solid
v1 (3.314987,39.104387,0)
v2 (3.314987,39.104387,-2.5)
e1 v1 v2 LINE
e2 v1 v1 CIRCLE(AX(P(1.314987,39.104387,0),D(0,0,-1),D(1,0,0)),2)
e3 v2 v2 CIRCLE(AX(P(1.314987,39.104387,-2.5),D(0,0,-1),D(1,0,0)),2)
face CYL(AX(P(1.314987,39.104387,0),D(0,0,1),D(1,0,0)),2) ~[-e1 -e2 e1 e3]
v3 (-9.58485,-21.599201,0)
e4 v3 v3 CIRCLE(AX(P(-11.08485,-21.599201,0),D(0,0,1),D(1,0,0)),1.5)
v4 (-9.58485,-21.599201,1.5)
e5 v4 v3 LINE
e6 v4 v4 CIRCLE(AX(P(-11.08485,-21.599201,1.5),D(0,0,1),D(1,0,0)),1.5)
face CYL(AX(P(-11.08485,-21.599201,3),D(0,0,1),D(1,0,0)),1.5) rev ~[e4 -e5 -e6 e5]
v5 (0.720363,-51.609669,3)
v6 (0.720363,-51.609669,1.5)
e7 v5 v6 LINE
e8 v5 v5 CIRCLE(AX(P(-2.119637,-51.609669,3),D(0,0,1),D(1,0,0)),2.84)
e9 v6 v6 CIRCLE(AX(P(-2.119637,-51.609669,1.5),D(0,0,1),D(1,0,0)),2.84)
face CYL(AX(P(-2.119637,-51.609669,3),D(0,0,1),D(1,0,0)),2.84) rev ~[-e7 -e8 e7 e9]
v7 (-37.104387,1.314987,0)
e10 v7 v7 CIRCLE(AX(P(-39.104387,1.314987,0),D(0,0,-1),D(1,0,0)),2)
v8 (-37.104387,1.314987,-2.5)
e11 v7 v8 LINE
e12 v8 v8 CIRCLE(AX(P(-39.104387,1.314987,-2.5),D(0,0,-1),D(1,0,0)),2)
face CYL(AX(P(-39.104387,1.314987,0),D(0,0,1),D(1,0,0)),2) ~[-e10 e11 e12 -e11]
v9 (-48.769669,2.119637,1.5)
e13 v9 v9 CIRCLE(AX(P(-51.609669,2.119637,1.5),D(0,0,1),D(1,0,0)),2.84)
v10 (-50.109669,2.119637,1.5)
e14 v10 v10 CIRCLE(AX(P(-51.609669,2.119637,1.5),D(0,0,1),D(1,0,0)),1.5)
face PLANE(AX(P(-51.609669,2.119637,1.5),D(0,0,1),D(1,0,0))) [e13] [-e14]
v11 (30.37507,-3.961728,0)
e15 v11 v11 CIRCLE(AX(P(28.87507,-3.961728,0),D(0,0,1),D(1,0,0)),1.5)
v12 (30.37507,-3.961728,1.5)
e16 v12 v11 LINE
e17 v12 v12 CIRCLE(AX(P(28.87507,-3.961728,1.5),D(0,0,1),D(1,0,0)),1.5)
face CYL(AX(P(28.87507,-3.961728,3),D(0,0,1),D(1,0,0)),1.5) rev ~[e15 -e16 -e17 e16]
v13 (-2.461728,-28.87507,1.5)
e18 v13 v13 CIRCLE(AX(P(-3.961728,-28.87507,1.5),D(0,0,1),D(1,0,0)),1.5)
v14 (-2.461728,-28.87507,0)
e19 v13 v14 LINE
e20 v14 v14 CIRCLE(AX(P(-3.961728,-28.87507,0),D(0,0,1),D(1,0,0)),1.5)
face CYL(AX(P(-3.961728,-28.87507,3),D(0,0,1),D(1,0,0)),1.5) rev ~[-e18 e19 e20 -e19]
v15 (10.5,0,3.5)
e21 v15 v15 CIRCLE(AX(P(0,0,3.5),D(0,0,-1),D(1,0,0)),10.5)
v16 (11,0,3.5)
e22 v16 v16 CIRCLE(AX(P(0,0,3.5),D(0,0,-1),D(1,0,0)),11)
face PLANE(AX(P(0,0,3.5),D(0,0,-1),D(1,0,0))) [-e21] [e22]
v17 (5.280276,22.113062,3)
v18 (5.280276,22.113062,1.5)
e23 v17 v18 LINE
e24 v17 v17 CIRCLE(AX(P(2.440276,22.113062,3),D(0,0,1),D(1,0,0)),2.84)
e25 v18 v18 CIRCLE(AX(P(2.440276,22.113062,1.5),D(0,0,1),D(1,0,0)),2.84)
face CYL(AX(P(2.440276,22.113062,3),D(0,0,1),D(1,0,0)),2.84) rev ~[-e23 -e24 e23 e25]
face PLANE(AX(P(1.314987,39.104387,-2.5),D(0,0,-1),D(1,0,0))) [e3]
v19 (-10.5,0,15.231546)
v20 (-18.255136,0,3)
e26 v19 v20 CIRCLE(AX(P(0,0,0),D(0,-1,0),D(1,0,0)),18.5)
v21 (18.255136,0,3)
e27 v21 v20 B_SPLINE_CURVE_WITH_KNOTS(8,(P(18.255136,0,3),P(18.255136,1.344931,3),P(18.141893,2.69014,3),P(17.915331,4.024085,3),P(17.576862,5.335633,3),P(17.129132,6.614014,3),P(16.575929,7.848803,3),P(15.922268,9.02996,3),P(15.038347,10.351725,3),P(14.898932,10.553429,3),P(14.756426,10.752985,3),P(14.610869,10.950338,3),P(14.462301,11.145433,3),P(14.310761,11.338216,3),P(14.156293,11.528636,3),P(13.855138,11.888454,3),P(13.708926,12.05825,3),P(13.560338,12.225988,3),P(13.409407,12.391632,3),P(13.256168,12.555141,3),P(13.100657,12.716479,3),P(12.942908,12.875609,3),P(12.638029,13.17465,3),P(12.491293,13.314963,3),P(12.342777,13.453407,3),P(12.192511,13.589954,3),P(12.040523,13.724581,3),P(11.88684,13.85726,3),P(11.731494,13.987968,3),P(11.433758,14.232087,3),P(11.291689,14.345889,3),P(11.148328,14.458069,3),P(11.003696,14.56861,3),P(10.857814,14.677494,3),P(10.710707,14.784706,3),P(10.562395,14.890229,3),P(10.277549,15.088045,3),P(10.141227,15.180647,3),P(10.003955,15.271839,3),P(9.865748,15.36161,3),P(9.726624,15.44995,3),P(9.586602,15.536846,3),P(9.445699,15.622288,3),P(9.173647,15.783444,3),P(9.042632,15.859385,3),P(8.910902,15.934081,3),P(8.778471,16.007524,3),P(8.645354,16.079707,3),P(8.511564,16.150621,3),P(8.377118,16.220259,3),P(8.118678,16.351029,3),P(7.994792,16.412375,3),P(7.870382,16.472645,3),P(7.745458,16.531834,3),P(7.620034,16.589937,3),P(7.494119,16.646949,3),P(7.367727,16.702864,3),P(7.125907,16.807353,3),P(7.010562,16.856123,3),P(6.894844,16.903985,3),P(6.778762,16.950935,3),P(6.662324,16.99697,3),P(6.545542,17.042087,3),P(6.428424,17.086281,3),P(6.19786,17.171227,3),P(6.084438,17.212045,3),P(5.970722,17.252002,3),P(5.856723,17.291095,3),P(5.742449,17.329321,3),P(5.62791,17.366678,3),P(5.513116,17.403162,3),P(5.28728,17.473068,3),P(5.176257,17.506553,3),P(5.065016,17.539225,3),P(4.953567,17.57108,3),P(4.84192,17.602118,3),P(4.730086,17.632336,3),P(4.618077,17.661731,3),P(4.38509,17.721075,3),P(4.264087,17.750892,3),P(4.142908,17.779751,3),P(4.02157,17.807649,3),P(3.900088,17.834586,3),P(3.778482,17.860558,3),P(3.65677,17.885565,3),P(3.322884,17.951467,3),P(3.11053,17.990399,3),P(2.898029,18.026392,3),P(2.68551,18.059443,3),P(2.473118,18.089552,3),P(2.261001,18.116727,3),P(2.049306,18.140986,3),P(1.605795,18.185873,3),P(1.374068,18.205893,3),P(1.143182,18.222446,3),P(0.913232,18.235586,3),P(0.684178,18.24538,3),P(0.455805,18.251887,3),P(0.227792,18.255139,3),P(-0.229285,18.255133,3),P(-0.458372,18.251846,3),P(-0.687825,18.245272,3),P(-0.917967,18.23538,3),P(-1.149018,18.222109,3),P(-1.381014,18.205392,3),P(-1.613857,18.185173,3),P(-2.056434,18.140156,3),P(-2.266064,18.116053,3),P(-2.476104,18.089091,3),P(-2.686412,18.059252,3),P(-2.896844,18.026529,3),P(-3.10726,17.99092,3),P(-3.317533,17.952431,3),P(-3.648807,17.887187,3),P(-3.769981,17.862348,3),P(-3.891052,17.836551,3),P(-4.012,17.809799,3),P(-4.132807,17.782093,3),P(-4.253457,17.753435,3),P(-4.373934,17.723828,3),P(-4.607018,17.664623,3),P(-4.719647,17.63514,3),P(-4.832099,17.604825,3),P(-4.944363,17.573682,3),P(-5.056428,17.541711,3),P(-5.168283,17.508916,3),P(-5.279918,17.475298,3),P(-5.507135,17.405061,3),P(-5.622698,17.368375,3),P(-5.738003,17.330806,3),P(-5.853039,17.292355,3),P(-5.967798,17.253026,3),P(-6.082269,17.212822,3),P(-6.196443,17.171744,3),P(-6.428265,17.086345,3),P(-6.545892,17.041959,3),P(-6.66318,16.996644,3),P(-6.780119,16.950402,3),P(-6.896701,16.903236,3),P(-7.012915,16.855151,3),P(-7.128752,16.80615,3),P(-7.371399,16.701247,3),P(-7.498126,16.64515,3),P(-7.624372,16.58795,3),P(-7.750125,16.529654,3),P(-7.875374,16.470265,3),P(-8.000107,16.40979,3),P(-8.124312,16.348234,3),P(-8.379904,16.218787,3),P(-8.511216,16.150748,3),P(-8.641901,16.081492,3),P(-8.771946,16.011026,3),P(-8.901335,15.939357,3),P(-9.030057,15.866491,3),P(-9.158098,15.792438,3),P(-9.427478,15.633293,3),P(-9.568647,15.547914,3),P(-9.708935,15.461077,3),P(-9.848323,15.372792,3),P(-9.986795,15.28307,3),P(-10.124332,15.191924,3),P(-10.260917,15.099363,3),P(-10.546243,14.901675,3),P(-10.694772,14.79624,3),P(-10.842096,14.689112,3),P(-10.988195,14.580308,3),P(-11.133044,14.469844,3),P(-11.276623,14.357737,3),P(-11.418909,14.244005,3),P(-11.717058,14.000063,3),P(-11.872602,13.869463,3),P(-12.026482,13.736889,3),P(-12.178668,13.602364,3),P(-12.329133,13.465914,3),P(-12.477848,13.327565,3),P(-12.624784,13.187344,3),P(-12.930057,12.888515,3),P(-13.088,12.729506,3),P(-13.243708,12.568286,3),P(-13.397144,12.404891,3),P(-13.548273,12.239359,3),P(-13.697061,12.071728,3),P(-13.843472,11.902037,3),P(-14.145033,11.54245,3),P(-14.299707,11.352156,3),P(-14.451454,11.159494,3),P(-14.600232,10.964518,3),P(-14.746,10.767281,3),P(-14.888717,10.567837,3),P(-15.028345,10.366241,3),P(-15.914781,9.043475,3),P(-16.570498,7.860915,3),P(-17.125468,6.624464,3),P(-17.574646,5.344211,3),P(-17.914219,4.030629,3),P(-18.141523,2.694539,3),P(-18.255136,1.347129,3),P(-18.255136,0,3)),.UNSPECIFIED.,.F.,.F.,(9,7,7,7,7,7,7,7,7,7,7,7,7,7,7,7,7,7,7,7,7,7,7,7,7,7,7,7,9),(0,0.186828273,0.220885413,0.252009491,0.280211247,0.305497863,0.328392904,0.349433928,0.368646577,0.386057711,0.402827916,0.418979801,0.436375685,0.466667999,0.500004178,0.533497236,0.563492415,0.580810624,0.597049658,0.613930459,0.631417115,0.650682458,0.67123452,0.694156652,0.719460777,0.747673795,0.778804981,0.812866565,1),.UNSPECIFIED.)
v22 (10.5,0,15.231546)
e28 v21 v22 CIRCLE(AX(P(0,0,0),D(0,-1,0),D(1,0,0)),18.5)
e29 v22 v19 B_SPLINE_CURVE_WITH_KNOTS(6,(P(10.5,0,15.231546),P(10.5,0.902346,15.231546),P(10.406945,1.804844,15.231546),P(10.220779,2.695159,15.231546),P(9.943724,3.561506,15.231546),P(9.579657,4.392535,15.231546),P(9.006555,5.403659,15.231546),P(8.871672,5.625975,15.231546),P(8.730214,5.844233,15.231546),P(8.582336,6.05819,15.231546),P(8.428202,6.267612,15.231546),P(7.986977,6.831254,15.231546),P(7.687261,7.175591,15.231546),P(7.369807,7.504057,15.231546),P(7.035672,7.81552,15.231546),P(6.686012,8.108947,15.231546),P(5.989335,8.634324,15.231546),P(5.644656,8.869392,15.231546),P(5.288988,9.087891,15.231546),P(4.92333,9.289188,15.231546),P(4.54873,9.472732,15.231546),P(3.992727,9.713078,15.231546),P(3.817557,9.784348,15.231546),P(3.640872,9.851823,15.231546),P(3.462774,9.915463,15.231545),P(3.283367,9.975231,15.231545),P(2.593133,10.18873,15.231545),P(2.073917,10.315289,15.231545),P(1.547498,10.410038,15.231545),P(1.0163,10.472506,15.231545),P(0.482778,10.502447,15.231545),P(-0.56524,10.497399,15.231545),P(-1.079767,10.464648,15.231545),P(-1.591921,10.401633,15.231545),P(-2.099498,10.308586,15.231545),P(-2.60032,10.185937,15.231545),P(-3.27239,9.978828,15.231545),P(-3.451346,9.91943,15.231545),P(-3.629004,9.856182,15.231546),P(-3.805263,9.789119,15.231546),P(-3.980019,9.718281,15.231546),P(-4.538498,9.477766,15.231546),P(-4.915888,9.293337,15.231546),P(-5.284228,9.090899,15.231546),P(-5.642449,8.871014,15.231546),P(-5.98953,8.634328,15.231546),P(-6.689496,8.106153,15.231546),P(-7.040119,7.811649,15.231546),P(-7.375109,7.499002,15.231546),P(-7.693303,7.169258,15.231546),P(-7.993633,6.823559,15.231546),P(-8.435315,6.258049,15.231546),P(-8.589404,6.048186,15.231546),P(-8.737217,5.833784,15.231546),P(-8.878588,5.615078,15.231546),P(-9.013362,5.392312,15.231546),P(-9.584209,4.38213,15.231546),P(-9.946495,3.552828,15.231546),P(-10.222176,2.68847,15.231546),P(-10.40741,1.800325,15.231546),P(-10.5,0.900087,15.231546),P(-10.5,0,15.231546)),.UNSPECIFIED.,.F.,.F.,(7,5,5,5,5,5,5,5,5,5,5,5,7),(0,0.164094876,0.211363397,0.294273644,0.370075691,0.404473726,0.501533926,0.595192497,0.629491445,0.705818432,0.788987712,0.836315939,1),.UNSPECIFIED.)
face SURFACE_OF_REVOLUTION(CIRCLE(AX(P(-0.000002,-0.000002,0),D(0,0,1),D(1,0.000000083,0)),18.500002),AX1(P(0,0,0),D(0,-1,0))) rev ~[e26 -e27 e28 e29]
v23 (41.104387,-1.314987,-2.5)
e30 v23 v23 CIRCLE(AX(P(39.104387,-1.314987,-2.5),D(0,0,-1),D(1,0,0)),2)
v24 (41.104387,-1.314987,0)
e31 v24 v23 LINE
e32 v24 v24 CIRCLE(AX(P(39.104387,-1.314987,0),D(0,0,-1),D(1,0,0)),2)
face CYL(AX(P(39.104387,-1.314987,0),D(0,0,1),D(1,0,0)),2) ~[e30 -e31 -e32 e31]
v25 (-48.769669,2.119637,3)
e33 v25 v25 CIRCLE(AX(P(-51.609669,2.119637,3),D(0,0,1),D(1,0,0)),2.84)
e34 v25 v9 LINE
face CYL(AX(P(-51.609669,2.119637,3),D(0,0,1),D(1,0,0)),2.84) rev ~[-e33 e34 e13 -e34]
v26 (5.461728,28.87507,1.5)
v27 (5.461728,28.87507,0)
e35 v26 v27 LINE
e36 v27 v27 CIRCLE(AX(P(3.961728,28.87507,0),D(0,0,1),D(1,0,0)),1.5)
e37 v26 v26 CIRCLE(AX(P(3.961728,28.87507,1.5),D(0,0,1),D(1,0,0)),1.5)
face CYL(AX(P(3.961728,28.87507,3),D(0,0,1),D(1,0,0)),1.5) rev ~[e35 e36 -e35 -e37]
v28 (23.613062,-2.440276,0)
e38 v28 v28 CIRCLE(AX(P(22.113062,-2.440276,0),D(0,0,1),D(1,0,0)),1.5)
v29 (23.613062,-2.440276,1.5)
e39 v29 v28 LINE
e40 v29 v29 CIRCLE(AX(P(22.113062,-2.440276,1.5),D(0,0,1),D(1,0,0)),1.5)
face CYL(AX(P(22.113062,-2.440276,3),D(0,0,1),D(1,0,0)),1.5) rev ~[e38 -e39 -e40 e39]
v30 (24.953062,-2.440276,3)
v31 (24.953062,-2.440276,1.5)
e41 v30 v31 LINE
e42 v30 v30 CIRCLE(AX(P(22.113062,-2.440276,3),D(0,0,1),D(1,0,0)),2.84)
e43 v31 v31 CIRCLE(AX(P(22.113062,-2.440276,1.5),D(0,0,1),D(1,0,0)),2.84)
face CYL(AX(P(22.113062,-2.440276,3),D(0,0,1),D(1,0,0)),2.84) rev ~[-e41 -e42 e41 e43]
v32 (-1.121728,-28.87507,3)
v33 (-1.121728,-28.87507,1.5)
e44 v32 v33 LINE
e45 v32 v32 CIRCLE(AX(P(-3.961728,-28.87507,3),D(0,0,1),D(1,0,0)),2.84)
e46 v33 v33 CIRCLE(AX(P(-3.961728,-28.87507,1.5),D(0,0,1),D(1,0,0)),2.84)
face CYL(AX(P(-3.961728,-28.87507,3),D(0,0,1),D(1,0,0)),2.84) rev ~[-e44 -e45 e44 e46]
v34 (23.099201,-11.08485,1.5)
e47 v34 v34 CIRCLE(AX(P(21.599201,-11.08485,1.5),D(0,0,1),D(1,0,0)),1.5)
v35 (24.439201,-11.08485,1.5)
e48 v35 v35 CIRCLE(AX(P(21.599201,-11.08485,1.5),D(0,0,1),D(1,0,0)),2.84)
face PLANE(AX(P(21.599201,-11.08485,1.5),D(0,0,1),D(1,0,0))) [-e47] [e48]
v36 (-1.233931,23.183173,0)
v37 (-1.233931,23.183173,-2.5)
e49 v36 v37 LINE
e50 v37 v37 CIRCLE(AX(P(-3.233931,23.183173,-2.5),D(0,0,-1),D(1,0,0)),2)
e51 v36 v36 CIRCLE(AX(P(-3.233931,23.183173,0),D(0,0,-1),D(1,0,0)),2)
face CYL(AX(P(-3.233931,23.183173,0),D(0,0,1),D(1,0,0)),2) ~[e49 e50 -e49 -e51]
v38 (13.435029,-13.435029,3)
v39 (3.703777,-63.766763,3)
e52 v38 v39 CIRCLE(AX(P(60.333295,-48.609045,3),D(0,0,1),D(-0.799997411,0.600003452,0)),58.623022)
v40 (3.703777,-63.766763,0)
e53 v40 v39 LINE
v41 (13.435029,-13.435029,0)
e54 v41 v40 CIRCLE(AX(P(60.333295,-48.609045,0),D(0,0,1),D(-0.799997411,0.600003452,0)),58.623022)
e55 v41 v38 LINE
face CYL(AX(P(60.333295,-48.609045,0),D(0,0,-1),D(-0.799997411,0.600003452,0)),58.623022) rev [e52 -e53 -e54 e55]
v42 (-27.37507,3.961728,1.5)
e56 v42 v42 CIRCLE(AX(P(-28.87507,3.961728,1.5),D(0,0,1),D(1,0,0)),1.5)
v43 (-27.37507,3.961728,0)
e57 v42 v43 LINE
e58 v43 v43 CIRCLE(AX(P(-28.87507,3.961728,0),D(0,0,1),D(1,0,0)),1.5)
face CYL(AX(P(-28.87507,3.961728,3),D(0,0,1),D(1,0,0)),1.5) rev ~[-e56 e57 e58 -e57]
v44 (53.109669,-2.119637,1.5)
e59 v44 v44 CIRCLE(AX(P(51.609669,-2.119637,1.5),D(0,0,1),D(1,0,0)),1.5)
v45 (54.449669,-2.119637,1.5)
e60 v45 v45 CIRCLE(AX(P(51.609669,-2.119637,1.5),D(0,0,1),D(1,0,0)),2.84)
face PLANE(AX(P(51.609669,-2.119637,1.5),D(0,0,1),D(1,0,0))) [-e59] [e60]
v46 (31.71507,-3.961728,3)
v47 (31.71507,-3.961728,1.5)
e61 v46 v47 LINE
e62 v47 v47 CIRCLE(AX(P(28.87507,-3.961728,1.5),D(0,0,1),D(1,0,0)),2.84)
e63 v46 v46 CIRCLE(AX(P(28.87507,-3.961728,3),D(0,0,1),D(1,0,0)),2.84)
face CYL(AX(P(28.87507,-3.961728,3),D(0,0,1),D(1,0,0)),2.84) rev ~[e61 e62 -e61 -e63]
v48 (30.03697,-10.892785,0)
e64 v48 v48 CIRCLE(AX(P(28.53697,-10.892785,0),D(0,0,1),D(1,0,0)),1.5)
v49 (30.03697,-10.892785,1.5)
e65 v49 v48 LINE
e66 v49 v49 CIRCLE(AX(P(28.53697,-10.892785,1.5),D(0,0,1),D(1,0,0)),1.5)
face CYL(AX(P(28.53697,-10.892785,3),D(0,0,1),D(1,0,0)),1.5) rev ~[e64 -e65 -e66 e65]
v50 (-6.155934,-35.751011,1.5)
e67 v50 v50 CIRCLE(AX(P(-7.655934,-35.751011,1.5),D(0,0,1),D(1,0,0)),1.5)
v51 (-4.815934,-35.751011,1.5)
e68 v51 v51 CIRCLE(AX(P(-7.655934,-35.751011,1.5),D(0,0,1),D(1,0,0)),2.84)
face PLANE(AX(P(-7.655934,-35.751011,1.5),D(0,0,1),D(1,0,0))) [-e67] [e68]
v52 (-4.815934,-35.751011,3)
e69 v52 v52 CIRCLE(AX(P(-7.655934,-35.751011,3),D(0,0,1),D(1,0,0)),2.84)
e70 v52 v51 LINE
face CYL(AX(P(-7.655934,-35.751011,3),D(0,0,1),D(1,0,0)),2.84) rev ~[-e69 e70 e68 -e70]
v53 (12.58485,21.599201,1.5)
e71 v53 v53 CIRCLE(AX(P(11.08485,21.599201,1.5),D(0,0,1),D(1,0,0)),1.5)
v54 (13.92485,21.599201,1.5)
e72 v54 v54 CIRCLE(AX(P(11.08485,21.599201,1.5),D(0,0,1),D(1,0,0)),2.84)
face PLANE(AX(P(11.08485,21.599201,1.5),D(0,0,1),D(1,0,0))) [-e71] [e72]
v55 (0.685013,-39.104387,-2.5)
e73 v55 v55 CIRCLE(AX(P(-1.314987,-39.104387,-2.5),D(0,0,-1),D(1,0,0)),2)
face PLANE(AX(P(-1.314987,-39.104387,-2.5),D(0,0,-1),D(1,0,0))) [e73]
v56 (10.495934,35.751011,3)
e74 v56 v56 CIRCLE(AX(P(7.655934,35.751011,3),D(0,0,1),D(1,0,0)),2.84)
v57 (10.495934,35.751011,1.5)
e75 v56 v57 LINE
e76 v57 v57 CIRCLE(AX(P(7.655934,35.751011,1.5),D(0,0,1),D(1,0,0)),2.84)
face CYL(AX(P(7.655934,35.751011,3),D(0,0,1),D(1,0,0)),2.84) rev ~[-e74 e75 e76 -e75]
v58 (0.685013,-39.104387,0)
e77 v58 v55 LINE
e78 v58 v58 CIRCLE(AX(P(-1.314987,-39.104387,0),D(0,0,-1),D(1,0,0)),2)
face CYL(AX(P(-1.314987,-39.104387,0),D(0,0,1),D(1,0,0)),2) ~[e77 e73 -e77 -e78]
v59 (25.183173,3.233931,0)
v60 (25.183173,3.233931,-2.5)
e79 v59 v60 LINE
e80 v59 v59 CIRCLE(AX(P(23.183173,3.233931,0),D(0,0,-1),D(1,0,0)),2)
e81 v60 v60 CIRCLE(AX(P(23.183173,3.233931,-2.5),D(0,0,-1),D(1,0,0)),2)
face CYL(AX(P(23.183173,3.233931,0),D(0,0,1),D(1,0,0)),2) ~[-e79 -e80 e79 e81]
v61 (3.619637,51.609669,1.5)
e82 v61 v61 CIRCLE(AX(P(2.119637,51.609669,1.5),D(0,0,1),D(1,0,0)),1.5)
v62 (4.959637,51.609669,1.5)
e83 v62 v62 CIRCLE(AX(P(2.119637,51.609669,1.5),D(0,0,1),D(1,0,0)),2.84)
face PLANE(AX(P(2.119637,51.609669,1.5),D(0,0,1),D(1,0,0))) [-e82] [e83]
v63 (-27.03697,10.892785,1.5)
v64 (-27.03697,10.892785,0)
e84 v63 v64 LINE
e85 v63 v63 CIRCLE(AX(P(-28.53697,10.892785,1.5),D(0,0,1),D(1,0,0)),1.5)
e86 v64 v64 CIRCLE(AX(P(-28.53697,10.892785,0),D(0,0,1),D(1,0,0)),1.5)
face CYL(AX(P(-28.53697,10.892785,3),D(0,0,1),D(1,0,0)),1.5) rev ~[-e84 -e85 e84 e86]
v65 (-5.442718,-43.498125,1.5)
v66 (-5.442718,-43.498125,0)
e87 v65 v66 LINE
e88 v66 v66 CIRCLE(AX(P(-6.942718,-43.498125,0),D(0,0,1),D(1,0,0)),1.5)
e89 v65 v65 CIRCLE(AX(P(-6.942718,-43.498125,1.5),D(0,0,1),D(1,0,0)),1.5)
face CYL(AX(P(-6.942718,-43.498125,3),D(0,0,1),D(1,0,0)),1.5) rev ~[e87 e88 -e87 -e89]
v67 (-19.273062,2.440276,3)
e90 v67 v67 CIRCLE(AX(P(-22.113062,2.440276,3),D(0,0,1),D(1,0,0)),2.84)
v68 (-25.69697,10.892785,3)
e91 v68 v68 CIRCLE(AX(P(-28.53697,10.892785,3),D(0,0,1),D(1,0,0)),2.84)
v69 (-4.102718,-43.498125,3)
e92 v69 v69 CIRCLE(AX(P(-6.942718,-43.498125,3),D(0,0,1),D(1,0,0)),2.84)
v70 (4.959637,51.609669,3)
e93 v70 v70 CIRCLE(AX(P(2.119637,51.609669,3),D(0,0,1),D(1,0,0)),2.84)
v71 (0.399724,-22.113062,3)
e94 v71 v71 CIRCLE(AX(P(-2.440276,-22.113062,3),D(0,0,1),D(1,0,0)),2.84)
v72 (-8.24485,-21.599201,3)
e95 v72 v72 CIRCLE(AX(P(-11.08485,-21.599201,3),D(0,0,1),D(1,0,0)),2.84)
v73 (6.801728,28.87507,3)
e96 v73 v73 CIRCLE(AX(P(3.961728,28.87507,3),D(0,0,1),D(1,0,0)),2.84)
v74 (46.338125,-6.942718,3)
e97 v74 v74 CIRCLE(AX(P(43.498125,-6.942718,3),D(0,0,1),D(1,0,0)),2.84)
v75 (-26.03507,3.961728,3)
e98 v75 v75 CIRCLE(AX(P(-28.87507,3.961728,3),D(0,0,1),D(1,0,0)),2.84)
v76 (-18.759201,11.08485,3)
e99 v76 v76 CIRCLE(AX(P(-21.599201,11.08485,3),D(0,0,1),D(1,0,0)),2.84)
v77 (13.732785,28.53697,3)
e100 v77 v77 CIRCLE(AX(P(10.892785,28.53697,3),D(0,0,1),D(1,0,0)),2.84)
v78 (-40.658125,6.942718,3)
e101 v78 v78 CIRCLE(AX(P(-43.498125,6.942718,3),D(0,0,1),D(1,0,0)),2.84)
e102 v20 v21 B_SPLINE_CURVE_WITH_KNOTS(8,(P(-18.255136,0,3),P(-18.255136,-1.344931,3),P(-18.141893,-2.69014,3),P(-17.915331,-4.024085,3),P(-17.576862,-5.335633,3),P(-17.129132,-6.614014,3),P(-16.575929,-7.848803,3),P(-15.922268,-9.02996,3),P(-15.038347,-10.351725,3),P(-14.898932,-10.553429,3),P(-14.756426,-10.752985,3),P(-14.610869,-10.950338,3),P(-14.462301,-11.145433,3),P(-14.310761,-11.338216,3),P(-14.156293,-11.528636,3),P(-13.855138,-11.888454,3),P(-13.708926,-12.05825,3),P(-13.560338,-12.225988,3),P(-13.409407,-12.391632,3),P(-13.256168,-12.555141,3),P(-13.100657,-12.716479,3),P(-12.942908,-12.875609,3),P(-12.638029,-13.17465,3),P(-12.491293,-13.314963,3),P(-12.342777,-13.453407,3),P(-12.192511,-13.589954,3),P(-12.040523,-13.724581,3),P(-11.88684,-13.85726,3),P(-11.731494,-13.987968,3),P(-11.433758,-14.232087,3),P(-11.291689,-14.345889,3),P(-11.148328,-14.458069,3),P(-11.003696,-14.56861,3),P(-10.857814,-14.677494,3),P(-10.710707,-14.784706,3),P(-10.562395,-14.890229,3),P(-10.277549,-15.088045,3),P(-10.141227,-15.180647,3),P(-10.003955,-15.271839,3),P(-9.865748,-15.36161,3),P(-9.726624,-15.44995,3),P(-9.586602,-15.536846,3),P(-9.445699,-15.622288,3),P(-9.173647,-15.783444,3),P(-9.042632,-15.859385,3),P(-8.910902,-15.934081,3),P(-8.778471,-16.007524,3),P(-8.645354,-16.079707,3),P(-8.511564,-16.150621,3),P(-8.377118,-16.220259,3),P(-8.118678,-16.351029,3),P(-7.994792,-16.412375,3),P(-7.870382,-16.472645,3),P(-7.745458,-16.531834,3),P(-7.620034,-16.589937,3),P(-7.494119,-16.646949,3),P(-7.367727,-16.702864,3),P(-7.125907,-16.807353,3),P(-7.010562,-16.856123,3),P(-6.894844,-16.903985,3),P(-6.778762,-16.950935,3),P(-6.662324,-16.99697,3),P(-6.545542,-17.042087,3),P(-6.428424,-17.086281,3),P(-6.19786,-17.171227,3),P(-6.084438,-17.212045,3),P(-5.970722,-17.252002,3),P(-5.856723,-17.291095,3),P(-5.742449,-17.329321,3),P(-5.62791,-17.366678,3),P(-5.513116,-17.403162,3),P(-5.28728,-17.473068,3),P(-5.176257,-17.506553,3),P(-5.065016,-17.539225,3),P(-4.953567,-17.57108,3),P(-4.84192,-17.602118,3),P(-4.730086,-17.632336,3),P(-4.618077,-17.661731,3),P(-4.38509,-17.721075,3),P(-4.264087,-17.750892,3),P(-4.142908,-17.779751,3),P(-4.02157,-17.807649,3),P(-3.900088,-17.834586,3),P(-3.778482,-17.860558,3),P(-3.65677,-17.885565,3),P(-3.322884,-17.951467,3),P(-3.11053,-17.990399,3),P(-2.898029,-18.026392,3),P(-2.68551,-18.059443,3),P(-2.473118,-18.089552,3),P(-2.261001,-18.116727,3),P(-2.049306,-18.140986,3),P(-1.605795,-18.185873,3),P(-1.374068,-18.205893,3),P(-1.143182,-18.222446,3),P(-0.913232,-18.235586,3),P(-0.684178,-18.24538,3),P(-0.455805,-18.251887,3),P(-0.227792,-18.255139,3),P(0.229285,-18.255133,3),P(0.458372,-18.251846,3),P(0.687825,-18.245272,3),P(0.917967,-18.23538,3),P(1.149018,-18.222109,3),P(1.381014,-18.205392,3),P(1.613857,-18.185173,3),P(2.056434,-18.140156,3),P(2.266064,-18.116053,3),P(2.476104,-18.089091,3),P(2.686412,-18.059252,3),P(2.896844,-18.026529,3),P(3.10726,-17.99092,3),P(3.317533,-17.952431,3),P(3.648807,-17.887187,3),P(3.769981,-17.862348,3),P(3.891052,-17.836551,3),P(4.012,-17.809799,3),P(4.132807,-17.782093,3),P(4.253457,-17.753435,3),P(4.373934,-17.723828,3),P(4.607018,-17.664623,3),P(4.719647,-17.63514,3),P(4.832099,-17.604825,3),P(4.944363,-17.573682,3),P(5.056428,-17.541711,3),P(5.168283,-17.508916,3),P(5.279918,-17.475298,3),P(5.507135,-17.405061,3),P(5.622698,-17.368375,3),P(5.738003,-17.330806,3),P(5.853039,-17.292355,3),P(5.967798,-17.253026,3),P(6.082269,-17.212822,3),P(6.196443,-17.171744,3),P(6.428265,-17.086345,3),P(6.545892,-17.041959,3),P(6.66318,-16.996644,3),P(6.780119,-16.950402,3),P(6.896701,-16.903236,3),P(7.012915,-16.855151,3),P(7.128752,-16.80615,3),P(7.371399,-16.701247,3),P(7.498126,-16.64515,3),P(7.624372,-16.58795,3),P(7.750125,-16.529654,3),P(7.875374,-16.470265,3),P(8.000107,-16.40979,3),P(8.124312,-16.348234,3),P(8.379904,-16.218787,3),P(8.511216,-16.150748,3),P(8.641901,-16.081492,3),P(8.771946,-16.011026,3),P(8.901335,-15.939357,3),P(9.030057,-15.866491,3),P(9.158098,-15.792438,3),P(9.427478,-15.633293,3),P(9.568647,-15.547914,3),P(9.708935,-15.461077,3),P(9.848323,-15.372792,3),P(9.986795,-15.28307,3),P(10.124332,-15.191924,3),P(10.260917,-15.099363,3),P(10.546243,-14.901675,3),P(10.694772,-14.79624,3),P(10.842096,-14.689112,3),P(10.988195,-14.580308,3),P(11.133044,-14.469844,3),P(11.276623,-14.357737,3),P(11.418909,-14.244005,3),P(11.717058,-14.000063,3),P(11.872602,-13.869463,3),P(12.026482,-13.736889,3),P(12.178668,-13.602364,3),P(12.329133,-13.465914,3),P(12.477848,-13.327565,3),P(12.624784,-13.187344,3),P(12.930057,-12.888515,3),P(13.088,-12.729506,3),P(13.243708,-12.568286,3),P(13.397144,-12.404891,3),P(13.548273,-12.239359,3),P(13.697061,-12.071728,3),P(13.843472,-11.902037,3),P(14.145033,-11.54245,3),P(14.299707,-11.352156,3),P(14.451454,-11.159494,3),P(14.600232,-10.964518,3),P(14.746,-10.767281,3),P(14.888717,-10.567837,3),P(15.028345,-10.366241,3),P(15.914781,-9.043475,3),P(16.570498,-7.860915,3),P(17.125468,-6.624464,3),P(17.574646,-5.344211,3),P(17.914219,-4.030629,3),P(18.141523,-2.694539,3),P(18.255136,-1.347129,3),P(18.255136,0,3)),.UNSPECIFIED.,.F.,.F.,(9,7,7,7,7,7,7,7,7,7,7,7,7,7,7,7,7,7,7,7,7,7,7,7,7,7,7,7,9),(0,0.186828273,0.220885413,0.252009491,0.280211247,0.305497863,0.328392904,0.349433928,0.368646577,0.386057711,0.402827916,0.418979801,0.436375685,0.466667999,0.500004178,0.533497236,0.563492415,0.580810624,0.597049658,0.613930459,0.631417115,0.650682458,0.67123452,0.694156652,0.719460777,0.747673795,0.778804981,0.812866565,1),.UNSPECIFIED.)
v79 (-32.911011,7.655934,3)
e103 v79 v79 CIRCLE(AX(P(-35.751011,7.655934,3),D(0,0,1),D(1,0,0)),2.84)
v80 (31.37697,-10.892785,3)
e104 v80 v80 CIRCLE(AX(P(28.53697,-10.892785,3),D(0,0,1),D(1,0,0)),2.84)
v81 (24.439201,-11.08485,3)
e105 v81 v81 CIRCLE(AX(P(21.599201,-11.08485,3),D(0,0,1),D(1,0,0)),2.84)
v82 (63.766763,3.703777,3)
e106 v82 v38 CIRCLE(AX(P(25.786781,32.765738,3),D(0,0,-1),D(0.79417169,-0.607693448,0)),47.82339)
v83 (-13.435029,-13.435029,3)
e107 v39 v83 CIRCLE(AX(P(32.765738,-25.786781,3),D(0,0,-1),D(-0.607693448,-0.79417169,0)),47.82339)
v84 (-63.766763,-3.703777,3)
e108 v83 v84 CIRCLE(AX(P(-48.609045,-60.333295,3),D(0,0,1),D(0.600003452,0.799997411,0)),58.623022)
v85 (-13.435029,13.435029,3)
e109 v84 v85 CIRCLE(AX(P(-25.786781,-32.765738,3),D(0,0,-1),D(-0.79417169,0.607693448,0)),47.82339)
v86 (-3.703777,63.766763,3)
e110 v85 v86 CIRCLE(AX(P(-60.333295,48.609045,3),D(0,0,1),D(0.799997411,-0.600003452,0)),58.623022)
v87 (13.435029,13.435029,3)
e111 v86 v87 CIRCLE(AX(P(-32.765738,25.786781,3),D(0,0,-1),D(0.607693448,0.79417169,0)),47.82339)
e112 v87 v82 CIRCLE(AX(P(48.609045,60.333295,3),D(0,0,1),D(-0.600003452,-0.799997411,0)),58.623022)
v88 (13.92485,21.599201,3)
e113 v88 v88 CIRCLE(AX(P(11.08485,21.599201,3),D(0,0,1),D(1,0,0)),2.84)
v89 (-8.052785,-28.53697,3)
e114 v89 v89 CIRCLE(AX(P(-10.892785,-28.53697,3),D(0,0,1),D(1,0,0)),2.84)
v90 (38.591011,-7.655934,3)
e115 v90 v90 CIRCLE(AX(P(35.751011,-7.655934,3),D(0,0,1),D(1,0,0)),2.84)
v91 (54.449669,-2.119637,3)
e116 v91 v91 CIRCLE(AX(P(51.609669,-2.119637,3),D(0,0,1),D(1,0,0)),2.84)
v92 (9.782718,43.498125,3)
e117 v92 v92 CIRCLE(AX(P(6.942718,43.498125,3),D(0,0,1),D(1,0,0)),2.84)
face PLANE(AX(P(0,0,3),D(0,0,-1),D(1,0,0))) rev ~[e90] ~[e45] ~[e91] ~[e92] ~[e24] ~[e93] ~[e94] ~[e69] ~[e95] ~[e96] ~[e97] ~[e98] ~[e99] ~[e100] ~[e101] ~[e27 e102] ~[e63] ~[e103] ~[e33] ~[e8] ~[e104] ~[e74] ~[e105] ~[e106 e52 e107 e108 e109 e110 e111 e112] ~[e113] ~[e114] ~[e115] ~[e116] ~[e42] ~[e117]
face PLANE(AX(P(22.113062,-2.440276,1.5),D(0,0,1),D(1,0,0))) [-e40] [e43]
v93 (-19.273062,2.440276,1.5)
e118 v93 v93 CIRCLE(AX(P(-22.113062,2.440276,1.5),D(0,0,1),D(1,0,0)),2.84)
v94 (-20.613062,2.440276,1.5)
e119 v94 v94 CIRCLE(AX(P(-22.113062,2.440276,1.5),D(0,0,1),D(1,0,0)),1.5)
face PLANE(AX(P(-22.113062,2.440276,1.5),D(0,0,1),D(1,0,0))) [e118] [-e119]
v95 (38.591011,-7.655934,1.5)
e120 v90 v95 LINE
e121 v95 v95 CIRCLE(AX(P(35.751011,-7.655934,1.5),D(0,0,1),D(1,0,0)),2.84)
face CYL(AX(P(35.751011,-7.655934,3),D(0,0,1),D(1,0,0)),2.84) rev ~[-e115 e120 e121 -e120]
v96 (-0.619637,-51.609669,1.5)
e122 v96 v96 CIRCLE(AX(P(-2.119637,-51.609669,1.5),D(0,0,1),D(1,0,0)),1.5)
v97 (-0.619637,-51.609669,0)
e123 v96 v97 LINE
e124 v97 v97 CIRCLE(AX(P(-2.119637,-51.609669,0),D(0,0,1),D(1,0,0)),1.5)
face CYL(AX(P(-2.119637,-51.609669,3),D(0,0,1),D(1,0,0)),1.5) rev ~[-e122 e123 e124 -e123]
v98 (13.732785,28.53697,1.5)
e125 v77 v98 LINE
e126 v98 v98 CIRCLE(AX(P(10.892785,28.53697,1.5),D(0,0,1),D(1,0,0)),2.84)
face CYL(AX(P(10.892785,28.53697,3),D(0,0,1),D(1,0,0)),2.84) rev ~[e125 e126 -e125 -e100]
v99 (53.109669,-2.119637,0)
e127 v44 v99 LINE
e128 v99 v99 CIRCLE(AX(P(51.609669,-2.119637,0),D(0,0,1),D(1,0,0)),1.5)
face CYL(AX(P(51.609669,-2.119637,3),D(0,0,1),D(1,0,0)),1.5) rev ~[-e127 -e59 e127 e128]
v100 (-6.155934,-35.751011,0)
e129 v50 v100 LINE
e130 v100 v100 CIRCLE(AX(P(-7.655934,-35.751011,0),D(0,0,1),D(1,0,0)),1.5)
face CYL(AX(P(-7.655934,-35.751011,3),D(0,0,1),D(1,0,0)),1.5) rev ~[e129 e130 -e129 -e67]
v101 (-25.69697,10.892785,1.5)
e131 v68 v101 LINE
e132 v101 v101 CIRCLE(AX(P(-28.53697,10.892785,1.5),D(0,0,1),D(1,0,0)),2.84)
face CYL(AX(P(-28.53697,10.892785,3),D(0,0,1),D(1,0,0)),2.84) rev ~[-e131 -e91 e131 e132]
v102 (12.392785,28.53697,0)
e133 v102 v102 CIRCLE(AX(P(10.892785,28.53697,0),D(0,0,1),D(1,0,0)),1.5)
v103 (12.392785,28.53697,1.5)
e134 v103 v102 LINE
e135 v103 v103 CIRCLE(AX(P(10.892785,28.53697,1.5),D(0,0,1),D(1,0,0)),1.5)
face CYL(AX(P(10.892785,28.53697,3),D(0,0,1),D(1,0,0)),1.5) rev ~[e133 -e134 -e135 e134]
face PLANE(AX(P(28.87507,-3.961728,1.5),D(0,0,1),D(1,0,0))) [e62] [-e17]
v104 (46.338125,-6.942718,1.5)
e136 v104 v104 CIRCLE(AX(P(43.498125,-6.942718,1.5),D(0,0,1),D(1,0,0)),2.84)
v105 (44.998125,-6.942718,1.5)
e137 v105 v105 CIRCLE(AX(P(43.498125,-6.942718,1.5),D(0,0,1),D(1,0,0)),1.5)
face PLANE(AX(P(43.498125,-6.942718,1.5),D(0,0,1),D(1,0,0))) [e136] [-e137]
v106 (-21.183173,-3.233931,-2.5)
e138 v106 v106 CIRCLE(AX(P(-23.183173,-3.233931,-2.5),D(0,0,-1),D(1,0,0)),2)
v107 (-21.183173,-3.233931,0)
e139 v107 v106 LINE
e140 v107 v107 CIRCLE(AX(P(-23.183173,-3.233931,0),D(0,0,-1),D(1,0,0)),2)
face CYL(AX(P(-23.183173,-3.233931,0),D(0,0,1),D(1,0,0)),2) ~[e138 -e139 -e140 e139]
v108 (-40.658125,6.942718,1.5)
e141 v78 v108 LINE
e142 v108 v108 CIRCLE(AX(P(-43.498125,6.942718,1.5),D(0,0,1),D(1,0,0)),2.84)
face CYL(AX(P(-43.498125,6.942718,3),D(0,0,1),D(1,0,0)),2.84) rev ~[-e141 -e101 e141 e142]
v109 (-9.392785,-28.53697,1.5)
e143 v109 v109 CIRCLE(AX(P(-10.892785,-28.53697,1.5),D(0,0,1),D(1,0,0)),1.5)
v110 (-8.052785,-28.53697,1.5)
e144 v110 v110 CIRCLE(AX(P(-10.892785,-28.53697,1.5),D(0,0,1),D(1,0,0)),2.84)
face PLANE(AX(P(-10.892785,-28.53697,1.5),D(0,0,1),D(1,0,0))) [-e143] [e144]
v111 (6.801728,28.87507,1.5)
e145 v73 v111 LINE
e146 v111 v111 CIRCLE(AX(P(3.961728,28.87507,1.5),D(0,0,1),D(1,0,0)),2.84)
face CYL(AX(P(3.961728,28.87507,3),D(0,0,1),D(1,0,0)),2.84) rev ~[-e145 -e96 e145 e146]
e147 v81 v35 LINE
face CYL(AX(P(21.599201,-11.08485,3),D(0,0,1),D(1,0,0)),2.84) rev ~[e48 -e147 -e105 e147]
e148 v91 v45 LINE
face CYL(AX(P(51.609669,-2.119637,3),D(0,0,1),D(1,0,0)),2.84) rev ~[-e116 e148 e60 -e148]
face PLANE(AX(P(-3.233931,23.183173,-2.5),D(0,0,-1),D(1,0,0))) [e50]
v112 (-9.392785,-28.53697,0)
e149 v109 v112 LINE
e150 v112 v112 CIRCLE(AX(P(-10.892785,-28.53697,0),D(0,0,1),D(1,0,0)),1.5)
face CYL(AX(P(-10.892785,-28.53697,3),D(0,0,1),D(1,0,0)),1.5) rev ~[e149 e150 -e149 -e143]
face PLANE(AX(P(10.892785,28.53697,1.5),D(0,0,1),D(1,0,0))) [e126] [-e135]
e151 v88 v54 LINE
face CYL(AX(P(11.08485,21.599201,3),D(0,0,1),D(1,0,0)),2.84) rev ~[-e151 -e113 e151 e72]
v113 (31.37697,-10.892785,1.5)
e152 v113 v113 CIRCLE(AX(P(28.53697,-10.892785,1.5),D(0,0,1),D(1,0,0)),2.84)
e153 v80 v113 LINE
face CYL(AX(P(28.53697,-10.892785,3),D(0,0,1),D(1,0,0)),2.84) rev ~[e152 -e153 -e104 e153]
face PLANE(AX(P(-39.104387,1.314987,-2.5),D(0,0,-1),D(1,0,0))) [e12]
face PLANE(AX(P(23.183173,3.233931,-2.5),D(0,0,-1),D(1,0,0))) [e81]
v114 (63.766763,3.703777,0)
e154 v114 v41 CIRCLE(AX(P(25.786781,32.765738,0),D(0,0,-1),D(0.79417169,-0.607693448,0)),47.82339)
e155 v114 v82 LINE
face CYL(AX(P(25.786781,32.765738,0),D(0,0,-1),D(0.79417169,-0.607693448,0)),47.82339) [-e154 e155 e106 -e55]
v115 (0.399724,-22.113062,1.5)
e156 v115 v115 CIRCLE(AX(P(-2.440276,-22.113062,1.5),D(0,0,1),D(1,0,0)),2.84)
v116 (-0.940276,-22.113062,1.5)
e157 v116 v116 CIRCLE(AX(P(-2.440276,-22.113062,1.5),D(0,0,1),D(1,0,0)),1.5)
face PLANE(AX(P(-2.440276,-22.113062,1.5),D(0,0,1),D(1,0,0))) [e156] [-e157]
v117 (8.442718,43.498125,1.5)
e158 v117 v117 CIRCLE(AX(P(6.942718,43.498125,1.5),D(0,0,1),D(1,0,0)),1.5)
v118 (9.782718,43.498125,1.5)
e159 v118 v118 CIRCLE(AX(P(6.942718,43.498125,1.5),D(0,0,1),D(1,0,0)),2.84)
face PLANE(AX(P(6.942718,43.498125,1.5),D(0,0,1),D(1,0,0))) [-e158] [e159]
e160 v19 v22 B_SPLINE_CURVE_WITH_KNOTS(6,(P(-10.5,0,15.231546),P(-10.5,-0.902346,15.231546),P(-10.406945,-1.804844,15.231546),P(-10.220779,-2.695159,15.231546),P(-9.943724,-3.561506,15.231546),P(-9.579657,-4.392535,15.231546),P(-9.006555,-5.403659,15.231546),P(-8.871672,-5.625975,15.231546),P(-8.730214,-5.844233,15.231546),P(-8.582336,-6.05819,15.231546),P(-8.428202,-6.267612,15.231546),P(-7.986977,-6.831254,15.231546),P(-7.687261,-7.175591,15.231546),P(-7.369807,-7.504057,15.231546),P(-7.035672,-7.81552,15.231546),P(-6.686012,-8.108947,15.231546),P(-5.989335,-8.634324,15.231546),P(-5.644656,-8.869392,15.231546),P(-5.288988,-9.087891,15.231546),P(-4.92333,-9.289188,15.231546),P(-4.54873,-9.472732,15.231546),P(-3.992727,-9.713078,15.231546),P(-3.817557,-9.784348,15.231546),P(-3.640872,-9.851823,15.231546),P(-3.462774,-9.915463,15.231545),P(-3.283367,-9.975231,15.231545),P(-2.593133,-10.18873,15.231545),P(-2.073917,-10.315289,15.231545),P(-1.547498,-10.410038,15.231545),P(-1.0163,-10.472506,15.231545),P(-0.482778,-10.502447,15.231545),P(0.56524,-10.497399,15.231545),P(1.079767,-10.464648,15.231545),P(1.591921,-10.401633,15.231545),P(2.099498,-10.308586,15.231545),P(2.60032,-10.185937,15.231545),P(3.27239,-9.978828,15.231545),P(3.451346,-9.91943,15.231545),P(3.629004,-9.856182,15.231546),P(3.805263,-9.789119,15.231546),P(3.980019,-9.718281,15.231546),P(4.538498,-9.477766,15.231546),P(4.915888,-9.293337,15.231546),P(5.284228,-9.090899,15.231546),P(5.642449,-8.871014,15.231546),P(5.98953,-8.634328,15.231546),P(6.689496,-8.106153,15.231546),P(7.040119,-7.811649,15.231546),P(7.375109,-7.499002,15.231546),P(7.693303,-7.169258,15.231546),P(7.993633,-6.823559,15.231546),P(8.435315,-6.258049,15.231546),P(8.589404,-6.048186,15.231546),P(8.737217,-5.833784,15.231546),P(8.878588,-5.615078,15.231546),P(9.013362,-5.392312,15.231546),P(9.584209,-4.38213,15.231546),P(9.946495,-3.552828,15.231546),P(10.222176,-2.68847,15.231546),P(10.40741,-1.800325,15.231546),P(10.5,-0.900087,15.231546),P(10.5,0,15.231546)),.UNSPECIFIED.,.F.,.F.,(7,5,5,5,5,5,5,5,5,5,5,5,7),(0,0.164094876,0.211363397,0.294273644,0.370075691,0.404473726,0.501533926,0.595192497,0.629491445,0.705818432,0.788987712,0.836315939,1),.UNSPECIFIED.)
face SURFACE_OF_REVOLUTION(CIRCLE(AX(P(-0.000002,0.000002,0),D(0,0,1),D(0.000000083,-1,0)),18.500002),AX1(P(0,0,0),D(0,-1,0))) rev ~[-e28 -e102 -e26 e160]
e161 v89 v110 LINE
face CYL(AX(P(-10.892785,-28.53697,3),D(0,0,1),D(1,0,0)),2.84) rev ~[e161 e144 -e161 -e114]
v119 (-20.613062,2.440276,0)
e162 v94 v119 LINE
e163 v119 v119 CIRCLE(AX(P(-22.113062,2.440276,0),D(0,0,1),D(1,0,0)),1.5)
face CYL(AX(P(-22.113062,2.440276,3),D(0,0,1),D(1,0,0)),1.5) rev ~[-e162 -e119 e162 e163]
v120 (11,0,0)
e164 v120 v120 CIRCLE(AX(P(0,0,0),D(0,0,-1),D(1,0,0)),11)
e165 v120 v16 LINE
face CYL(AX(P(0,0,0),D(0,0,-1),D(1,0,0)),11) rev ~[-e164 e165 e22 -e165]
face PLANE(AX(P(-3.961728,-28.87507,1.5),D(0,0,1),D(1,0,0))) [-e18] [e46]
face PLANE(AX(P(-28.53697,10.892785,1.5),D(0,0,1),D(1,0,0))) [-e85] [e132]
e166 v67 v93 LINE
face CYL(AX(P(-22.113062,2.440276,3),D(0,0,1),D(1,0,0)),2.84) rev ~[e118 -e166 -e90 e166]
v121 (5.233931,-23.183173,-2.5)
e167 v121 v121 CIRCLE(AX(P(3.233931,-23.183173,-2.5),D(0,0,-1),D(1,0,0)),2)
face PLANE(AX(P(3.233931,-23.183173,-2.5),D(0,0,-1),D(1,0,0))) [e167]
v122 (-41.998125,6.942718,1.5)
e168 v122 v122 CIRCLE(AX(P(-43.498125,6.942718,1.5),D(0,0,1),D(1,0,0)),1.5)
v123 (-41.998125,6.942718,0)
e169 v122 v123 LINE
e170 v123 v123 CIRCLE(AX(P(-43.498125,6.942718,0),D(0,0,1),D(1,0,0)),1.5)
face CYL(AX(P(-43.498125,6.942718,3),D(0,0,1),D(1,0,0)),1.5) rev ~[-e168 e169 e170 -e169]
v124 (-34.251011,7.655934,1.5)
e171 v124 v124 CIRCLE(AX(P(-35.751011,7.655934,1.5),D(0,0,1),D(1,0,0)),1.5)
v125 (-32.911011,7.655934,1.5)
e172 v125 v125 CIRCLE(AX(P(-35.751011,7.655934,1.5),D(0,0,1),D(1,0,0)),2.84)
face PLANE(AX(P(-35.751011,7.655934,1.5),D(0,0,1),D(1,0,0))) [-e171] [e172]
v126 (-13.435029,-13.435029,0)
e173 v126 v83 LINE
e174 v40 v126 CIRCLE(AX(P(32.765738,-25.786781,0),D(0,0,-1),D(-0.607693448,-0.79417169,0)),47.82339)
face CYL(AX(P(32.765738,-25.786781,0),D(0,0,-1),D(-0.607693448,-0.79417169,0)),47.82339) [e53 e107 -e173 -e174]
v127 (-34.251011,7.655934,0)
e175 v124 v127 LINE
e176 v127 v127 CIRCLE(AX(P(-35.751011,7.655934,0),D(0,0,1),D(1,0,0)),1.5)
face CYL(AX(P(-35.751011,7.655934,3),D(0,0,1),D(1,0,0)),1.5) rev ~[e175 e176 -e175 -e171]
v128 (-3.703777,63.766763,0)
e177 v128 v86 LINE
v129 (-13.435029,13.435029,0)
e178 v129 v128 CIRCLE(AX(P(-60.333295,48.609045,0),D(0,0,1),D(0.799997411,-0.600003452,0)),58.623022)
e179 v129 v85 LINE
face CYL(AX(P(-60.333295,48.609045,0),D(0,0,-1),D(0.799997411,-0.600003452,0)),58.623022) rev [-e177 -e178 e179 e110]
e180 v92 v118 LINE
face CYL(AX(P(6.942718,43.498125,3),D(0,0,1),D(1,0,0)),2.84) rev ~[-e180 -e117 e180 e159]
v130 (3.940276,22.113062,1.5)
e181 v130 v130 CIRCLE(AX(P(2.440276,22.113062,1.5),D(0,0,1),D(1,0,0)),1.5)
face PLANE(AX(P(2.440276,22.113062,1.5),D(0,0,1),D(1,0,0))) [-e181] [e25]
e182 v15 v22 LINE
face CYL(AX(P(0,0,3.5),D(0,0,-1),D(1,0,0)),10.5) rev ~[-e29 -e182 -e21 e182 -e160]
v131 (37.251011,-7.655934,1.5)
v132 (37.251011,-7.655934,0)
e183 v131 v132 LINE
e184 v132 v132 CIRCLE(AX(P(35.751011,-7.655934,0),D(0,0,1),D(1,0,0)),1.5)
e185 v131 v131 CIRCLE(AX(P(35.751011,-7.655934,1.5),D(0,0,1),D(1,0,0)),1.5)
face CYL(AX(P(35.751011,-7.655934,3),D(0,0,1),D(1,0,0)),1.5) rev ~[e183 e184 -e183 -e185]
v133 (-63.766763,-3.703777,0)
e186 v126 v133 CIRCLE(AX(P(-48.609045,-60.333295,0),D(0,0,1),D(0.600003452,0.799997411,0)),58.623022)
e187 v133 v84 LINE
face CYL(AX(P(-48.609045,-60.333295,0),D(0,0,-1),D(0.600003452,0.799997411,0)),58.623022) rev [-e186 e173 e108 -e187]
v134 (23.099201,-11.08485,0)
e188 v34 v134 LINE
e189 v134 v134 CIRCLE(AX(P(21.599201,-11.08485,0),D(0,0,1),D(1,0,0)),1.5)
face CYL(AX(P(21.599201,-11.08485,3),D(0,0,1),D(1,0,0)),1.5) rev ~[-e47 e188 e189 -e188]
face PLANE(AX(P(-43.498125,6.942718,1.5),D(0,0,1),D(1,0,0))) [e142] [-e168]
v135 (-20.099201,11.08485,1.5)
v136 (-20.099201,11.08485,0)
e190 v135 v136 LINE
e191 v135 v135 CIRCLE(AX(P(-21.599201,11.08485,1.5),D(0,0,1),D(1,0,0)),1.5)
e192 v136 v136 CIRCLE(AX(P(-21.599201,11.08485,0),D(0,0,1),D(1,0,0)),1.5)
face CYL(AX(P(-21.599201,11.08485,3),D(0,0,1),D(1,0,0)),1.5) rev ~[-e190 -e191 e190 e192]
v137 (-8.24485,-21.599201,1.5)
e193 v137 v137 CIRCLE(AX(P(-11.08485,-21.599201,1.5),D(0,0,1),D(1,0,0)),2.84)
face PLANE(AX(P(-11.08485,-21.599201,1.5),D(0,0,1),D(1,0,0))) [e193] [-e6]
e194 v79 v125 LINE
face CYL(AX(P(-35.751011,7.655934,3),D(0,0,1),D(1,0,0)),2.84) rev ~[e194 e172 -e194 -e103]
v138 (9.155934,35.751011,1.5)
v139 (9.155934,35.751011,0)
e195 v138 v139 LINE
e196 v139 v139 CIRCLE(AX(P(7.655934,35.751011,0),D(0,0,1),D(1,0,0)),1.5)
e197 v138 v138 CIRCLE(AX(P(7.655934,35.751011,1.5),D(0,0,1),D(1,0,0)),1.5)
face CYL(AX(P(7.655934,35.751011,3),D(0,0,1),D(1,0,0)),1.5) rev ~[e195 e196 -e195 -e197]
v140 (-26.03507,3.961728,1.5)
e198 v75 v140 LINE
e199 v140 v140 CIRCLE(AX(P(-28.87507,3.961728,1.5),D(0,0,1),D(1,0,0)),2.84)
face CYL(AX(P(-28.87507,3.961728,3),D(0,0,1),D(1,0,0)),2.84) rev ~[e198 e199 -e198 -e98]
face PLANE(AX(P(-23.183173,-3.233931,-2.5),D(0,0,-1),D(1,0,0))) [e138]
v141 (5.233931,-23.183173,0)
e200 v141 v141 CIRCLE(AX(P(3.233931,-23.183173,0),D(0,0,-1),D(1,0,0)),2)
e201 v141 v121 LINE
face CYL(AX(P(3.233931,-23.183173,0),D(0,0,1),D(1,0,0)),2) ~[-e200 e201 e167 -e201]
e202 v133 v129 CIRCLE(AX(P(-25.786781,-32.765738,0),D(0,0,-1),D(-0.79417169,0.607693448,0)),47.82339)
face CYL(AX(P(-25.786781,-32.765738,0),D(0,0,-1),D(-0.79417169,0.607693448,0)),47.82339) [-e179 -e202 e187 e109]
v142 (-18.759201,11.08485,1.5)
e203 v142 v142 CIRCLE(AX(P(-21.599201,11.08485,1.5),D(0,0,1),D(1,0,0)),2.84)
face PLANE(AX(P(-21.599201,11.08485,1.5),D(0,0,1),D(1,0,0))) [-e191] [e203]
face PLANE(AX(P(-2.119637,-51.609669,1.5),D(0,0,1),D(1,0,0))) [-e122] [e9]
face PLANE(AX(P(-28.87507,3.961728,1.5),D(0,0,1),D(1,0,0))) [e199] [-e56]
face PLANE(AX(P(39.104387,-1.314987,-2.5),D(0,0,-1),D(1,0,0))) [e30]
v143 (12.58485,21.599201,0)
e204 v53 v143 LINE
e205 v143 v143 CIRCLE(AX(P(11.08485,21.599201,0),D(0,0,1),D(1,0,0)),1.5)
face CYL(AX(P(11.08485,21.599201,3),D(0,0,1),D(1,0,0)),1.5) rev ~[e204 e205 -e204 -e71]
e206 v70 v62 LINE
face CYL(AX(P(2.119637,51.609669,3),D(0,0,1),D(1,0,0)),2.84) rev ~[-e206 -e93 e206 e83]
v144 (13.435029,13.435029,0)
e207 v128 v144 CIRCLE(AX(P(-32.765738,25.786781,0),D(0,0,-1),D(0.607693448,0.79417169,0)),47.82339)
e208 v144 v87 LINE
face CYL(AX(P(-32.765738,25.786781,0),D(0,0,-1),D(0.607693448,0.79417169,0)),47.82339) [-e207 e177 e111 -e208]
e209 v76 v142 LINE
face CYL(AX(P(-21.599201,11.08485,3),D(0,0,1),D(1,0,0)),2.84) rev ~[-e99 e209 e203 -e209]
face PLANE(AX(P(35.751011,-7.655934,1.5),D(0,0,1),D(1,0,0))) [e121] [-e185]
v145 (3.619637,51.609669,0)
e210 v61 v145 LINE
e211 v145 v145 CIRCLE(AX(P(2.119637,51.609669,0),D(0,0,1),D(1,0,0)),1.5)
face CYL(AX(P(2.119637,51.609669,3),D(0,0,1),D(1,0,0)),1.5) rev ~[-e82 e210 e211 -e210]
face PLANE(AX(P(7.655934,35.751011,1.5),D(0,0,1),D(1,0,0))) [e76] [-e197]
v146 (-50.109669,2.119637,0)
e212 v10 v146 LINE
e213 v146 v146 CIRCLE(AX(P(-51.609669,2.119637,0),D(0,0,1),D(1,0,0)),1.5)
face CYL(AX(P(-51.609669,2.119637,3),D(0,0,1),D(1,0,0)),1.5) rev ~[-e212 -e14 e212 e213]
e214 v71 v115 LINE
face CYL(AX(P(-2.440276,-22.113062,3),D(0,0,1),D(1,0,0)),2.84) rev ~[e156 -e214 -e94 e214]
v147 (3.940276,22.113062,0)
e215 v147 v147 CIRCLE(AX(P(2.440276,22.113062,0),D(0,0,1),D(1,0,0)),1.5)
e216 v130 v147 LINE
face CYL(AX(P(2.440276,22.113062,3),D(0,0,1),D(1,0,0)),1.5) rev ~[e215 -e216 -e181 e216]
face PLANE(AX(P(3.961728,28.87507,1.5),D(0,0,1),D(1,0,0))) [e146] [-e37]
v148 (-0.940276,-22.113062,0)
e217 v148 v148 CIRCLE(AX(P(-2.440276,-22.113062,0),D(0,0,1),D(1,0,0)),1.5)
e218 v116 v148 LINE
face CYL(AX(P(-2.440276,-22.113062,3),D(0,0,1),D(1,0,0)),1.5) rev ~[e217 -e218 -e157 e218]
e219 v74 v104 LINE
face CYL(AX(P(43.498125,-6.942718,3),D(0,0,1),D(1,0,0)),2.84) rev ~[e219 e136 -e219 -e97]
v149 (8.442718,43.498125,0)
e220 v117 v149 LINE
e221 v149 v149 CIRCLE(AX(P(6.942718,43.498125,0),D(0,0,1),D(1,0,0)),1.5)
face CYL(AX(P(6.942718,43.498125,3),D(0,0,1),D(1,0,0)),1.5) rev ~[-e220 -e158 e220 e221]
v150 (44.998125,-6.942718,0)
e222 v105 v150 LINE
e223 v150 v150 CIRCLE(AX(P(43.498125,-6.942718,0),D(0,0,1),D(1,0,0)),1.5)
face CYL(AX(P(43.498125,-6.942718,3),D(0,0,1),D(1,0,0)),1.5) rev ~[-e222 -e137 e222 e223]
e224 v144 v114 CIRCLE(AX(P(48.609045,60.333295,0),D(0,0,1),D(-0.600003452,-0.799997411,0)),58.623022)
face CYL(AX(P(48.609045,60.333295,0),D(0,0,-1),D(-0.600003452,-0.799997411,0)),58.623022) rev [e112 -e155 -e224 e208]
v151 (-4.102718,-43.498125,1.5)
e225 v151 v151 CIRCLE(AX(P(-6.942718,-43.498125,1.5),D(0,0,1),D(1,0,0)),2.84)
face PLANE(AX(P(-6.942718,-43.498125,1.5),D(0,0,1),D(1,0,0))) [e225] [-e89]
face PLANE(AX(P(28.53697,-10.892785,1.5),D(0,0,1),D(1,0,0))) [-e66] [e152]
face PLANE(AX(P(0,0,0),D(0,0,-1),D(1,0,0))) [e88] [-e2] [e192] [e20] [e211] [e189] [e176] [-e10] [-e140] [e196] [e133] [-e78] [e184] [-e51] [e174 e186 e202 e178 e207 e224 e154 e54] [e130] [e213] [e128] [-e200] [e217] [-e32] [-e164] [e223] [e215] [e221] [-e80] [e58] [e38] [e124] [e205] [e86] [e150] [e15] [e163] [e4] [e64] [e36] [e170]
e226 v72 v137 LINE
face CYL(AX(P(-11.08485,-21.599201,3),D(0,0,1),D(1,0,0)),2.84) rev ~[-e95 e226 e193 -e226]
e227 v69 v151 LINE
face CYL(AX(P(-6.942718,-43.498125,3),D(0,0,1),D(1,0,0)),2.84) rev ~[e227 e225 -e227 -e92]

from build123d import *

# Parameters (mm, degrees)
F1_ANGLE  = 180
F2_R      = 11
F3_DEPTH  = 3.5
F4_R      = 10.5
F5_DEPTH  = 25
F6_R      = 17.5
F7_DEPTH  = 3
F8_R      = 2.84
F9_DEPTH  = 1.5
F10_R     = 1.5
F11_DEPTH = 25
F12_R     = 2
F13_DEPTH = 2.5


with BuildPart() as f1:
    # F0 (on Top) → F1 (revolve)
    with BuildSketch(Plane.XY):
        with BuildLine():
            ThreePointArc((0, -18.5), (13.081475, -13.081475), (18.5, 0))
            ThreePointArc((18.5, 0), (13.081475, 13.081475), (0, 18.5))
            Line((0, 18.5), (0, -18.5))
        make_face()
    revolve(axis=Axis((0, 0, 0), (0, -1, 0)), revolution_arc=F1_ANGLE)

    # F2 (on face) → F3 (cut)
    with BuildSketch(Plane(origin=(0, 0, 0), x_dir=(1, 0, 0), z_dir=(0, 0, -1))):
        Circle(F2_R)
    extrude(amount=-F3_DEPTH, mode=Mode.SUBTRACT)

    # F4 (on face) → F5 (cut)
    with BuildSketch(Plane(origin=(0, 0, 3.5), x_dir=(1, 0, 0), z_dir=(0, 0, -1))):
        Circle(F4_R)
    extrude(amount=-F5_DEPTH, mode=Mode.SUBTRACT)

    # F6 (on face) → F7 (join)
    with BuildSketch(Plane(origin=(0, 0, 0), x_dir=(1, 0, 0), z_dir=(0, 0, -1))):
        with BuildLine():
            ThreePointArc((13.435029, 13.435029), (2.776181, 37.480821), (3.703777, 63.766763))
            ThreePointArc((3.703777, 63.766763), (-12.505008, 41.202234), (-13.435029, 13.435029))
            ThreePointArc((-13.435029, 13.435029), (-37.480821, 2.776181), (-63.766763, 3.703777))
            ThreePointArc((-63.766763, 3.703777), (-41.202234, -12.505008), (-13.435029, -13.435029))
            ThreePointArc((-13.435029, -13.435029), (-2.776181, -37.480821), (-3.703777, -63.766763))
            ThreePointArc((-3.703777, -63.766763), (12.505008, -41.202234), (13.435029, -13.435029))
            ThreePointArc((13.435029, -13.435029), (37.480821, -2.776181), (63.766763, -3.703777))
            ThreePointArc((63.766763, -3.703777), (41.202234, 12.505008), (13.435029, 13.435029))
        make_face()
        Circle(F6_R, mode=Mode.SUBTRACT)
    extrude(amount=-F7_DEPTH)

    # F8 (on face) → F9 (cut)
    with BuildSketch(Plane.XY.offset(3)):
        with Locations((-11.08485, -21.599201)):
            Circle(F8_R)
        with Locations((-2.440276, -22.113062)):
            Circle(F8_R)
        with Locations((-10.892785, -28.53697)):
            Circle(F8_R)
        with Locations((-3.961728, -28.87507)):
            Circle(F8_R)
        with Locations((-7.655934, -35.751011)):
            Circle(F8_R)
        with Locations((-6.942718, -43.498125)):
            Circle(F8_R)
        with Locations((-2.119637, -51.609669)):
            Circle(F8_R)
        with Locations((21.599201, -11.08485)):
            Circle(F8_R)
        with Locations((22.113062, -2.440276)):
            Circle(F8_R)
        with Locations((28.53697, -10.892785)):
            Circle(F8_R)
        with Locations((28.87507, -3.961728)):
            Circle(F8_R)
        with Locations((35.751011, -7.655934)):
            Circle(F8_R)
        with Locations((43.498125, -6.942718)):
            Circle(F8_R)
        with Locations((51.609669, -2.119637)):
            Circle(F8_R)
        with Locations((11.08485, 21.599201)):
            Circle(F8_R)
        with Locations((2.440276, 22.113062)):
            Circle(F8_R)
        with Locations((10.892785, 28.53697)):
            Circle(F8_R)
        with Locations((3.961728, 28.87507)):
            Circle(F8_R)
        with Locations((7.655934, 35.751011)):
            Circle(F8_R)
        with Locations((6.942718, 43.498125)):
            Circle(F8_R)
        with Locations((2.119637, 51.609669)):
            Circle(F8_R)
        with Locations((-21.599201, 11.08485)):
            Circle(F8_R)
        with Locations((-22.113062, 2.440276)):
            Circle(F8_R)
        with Locations((-28.53697, 10.892785)):
            Circle(F8_R)
        with Locations((-28.87507, 3.961728)):
            Circle(F8_R)
        with Locations((-35.751011, 7.655934)):
            Circle(F8_R)
        with Locations((-43.498125, 6.942718)):
            Circle(F8_R)
        with Locations((-51.609669, 2.119637)):
            Circle(F8_R)
    extrude(amount=-F9_DEPTH, mode=Mode.SUBTRACT)

    # F10 (on face) → F11 (cut)
    with BuildSketch(Plane.XY.offset(3)):
        with Locations((-2.440276, -22.113062)):
            Circle(F10_R)
        with Locations((-22.113062, 2.440276)):
            Circle(F10_R)
        with Locations((2.440276, 22.113062)):
            Circle(F10_R)
        with Locations((22.113062, -2.440276)):
            Circle(F10_R)
        with Locations((-11.08485, -21.599201)):
            Circle(F10_R)
        with Locations((-10.892785, -28.53697)):
            Circle(F10_R)
        with Locations((-3.961728, -28.87507)):
            Circle(F10_R)
        with Locations((-7.655934, -35.751011)):
            Circle(F10_R)
        with Locations((-6.942718, -43.498125)):
            Circle(F10_R)
        with Locations((-2.119637, -51.609669)):
            Circle(F10_R)
        with Locations((21.599201, -11.08485)):
            Circle(F10_R)
        with Locations((28.53697, -10.892785)):
            Circle(F10_R)
        with Locations((28.87507, -3.961728)):
            Circle(F10_R)
        with Locations((35.751011, -7.655934)):
            Circle(F10_R)
        with Locations((43.498125, -6.942718)):
            Circle(F10_R)
        with Locations((51.609669, -2.119637)):
            Circle(F10_R)
        with Locations((11.08485, 21.599201)):
            Circle(F10_R)
        with Locations((10.892785, 28.53697)):
            Circle(F10_R)
        with Locations((3.961728, 28.87507)):
            Circle(F10_R)
        with Locations((7.655934, 35.751011)):
            Circle(F10_R)
        with Locations((6.942718, 43.498125)):
            Circle(F10_R)
        with Locations((2.119637, 51.609669)):
            Circle(F10_R)
        with Locations((-21.599201, 11.08485)):
            Circle(F10_R)
        with Locations((-28.53697, 10.892785)):
            Circle(F10_R)
        with Locations((-28.87507, 3.961728)):
            Circle(F10_R)
        with Locations((-35.751011, 7.655934)):
            Circle(F10_R)
        with Locations((-43.498125, 6.942718)):
            Circle(F10_R)
        with Locations((-51.609669, 2.119637)):
            Circle(F10_R)
    extrude(amount=-F11_DEPTH, mode=Mode.SUBTRACT)

    # F12 (on face) → F13 (join)
    with BuildSketch(Plane(origin=(0, 0, 0), x_dir=(1, 0, 0), z_dir=(0, 0, -1))):
        with Locations((-23.183173, 3.233931)):
            Circle(F12_R)
        with Locations((-39.104387, -1.314987)):
            Circle(F12_R)
        with Locations((-3.233931, -23.183173)):
            Circle(F12_R)
        with Locations((1.314987, -39.104387)):
            Circle(F12_R)
        with Locations((23.183173, -3.233931)):
            Circle(F12_R)
        with Locations((39.104387, 1.314987)):
            Circle(F12_R)
        with Locations((3.233931, 23.183173)):
            Circle(F12_R)
        with Locations((-1.314987, 39.104387)):
            Circle(F12_R)
    extrude(amount=F13_DEPTH)


solid = f1.part
